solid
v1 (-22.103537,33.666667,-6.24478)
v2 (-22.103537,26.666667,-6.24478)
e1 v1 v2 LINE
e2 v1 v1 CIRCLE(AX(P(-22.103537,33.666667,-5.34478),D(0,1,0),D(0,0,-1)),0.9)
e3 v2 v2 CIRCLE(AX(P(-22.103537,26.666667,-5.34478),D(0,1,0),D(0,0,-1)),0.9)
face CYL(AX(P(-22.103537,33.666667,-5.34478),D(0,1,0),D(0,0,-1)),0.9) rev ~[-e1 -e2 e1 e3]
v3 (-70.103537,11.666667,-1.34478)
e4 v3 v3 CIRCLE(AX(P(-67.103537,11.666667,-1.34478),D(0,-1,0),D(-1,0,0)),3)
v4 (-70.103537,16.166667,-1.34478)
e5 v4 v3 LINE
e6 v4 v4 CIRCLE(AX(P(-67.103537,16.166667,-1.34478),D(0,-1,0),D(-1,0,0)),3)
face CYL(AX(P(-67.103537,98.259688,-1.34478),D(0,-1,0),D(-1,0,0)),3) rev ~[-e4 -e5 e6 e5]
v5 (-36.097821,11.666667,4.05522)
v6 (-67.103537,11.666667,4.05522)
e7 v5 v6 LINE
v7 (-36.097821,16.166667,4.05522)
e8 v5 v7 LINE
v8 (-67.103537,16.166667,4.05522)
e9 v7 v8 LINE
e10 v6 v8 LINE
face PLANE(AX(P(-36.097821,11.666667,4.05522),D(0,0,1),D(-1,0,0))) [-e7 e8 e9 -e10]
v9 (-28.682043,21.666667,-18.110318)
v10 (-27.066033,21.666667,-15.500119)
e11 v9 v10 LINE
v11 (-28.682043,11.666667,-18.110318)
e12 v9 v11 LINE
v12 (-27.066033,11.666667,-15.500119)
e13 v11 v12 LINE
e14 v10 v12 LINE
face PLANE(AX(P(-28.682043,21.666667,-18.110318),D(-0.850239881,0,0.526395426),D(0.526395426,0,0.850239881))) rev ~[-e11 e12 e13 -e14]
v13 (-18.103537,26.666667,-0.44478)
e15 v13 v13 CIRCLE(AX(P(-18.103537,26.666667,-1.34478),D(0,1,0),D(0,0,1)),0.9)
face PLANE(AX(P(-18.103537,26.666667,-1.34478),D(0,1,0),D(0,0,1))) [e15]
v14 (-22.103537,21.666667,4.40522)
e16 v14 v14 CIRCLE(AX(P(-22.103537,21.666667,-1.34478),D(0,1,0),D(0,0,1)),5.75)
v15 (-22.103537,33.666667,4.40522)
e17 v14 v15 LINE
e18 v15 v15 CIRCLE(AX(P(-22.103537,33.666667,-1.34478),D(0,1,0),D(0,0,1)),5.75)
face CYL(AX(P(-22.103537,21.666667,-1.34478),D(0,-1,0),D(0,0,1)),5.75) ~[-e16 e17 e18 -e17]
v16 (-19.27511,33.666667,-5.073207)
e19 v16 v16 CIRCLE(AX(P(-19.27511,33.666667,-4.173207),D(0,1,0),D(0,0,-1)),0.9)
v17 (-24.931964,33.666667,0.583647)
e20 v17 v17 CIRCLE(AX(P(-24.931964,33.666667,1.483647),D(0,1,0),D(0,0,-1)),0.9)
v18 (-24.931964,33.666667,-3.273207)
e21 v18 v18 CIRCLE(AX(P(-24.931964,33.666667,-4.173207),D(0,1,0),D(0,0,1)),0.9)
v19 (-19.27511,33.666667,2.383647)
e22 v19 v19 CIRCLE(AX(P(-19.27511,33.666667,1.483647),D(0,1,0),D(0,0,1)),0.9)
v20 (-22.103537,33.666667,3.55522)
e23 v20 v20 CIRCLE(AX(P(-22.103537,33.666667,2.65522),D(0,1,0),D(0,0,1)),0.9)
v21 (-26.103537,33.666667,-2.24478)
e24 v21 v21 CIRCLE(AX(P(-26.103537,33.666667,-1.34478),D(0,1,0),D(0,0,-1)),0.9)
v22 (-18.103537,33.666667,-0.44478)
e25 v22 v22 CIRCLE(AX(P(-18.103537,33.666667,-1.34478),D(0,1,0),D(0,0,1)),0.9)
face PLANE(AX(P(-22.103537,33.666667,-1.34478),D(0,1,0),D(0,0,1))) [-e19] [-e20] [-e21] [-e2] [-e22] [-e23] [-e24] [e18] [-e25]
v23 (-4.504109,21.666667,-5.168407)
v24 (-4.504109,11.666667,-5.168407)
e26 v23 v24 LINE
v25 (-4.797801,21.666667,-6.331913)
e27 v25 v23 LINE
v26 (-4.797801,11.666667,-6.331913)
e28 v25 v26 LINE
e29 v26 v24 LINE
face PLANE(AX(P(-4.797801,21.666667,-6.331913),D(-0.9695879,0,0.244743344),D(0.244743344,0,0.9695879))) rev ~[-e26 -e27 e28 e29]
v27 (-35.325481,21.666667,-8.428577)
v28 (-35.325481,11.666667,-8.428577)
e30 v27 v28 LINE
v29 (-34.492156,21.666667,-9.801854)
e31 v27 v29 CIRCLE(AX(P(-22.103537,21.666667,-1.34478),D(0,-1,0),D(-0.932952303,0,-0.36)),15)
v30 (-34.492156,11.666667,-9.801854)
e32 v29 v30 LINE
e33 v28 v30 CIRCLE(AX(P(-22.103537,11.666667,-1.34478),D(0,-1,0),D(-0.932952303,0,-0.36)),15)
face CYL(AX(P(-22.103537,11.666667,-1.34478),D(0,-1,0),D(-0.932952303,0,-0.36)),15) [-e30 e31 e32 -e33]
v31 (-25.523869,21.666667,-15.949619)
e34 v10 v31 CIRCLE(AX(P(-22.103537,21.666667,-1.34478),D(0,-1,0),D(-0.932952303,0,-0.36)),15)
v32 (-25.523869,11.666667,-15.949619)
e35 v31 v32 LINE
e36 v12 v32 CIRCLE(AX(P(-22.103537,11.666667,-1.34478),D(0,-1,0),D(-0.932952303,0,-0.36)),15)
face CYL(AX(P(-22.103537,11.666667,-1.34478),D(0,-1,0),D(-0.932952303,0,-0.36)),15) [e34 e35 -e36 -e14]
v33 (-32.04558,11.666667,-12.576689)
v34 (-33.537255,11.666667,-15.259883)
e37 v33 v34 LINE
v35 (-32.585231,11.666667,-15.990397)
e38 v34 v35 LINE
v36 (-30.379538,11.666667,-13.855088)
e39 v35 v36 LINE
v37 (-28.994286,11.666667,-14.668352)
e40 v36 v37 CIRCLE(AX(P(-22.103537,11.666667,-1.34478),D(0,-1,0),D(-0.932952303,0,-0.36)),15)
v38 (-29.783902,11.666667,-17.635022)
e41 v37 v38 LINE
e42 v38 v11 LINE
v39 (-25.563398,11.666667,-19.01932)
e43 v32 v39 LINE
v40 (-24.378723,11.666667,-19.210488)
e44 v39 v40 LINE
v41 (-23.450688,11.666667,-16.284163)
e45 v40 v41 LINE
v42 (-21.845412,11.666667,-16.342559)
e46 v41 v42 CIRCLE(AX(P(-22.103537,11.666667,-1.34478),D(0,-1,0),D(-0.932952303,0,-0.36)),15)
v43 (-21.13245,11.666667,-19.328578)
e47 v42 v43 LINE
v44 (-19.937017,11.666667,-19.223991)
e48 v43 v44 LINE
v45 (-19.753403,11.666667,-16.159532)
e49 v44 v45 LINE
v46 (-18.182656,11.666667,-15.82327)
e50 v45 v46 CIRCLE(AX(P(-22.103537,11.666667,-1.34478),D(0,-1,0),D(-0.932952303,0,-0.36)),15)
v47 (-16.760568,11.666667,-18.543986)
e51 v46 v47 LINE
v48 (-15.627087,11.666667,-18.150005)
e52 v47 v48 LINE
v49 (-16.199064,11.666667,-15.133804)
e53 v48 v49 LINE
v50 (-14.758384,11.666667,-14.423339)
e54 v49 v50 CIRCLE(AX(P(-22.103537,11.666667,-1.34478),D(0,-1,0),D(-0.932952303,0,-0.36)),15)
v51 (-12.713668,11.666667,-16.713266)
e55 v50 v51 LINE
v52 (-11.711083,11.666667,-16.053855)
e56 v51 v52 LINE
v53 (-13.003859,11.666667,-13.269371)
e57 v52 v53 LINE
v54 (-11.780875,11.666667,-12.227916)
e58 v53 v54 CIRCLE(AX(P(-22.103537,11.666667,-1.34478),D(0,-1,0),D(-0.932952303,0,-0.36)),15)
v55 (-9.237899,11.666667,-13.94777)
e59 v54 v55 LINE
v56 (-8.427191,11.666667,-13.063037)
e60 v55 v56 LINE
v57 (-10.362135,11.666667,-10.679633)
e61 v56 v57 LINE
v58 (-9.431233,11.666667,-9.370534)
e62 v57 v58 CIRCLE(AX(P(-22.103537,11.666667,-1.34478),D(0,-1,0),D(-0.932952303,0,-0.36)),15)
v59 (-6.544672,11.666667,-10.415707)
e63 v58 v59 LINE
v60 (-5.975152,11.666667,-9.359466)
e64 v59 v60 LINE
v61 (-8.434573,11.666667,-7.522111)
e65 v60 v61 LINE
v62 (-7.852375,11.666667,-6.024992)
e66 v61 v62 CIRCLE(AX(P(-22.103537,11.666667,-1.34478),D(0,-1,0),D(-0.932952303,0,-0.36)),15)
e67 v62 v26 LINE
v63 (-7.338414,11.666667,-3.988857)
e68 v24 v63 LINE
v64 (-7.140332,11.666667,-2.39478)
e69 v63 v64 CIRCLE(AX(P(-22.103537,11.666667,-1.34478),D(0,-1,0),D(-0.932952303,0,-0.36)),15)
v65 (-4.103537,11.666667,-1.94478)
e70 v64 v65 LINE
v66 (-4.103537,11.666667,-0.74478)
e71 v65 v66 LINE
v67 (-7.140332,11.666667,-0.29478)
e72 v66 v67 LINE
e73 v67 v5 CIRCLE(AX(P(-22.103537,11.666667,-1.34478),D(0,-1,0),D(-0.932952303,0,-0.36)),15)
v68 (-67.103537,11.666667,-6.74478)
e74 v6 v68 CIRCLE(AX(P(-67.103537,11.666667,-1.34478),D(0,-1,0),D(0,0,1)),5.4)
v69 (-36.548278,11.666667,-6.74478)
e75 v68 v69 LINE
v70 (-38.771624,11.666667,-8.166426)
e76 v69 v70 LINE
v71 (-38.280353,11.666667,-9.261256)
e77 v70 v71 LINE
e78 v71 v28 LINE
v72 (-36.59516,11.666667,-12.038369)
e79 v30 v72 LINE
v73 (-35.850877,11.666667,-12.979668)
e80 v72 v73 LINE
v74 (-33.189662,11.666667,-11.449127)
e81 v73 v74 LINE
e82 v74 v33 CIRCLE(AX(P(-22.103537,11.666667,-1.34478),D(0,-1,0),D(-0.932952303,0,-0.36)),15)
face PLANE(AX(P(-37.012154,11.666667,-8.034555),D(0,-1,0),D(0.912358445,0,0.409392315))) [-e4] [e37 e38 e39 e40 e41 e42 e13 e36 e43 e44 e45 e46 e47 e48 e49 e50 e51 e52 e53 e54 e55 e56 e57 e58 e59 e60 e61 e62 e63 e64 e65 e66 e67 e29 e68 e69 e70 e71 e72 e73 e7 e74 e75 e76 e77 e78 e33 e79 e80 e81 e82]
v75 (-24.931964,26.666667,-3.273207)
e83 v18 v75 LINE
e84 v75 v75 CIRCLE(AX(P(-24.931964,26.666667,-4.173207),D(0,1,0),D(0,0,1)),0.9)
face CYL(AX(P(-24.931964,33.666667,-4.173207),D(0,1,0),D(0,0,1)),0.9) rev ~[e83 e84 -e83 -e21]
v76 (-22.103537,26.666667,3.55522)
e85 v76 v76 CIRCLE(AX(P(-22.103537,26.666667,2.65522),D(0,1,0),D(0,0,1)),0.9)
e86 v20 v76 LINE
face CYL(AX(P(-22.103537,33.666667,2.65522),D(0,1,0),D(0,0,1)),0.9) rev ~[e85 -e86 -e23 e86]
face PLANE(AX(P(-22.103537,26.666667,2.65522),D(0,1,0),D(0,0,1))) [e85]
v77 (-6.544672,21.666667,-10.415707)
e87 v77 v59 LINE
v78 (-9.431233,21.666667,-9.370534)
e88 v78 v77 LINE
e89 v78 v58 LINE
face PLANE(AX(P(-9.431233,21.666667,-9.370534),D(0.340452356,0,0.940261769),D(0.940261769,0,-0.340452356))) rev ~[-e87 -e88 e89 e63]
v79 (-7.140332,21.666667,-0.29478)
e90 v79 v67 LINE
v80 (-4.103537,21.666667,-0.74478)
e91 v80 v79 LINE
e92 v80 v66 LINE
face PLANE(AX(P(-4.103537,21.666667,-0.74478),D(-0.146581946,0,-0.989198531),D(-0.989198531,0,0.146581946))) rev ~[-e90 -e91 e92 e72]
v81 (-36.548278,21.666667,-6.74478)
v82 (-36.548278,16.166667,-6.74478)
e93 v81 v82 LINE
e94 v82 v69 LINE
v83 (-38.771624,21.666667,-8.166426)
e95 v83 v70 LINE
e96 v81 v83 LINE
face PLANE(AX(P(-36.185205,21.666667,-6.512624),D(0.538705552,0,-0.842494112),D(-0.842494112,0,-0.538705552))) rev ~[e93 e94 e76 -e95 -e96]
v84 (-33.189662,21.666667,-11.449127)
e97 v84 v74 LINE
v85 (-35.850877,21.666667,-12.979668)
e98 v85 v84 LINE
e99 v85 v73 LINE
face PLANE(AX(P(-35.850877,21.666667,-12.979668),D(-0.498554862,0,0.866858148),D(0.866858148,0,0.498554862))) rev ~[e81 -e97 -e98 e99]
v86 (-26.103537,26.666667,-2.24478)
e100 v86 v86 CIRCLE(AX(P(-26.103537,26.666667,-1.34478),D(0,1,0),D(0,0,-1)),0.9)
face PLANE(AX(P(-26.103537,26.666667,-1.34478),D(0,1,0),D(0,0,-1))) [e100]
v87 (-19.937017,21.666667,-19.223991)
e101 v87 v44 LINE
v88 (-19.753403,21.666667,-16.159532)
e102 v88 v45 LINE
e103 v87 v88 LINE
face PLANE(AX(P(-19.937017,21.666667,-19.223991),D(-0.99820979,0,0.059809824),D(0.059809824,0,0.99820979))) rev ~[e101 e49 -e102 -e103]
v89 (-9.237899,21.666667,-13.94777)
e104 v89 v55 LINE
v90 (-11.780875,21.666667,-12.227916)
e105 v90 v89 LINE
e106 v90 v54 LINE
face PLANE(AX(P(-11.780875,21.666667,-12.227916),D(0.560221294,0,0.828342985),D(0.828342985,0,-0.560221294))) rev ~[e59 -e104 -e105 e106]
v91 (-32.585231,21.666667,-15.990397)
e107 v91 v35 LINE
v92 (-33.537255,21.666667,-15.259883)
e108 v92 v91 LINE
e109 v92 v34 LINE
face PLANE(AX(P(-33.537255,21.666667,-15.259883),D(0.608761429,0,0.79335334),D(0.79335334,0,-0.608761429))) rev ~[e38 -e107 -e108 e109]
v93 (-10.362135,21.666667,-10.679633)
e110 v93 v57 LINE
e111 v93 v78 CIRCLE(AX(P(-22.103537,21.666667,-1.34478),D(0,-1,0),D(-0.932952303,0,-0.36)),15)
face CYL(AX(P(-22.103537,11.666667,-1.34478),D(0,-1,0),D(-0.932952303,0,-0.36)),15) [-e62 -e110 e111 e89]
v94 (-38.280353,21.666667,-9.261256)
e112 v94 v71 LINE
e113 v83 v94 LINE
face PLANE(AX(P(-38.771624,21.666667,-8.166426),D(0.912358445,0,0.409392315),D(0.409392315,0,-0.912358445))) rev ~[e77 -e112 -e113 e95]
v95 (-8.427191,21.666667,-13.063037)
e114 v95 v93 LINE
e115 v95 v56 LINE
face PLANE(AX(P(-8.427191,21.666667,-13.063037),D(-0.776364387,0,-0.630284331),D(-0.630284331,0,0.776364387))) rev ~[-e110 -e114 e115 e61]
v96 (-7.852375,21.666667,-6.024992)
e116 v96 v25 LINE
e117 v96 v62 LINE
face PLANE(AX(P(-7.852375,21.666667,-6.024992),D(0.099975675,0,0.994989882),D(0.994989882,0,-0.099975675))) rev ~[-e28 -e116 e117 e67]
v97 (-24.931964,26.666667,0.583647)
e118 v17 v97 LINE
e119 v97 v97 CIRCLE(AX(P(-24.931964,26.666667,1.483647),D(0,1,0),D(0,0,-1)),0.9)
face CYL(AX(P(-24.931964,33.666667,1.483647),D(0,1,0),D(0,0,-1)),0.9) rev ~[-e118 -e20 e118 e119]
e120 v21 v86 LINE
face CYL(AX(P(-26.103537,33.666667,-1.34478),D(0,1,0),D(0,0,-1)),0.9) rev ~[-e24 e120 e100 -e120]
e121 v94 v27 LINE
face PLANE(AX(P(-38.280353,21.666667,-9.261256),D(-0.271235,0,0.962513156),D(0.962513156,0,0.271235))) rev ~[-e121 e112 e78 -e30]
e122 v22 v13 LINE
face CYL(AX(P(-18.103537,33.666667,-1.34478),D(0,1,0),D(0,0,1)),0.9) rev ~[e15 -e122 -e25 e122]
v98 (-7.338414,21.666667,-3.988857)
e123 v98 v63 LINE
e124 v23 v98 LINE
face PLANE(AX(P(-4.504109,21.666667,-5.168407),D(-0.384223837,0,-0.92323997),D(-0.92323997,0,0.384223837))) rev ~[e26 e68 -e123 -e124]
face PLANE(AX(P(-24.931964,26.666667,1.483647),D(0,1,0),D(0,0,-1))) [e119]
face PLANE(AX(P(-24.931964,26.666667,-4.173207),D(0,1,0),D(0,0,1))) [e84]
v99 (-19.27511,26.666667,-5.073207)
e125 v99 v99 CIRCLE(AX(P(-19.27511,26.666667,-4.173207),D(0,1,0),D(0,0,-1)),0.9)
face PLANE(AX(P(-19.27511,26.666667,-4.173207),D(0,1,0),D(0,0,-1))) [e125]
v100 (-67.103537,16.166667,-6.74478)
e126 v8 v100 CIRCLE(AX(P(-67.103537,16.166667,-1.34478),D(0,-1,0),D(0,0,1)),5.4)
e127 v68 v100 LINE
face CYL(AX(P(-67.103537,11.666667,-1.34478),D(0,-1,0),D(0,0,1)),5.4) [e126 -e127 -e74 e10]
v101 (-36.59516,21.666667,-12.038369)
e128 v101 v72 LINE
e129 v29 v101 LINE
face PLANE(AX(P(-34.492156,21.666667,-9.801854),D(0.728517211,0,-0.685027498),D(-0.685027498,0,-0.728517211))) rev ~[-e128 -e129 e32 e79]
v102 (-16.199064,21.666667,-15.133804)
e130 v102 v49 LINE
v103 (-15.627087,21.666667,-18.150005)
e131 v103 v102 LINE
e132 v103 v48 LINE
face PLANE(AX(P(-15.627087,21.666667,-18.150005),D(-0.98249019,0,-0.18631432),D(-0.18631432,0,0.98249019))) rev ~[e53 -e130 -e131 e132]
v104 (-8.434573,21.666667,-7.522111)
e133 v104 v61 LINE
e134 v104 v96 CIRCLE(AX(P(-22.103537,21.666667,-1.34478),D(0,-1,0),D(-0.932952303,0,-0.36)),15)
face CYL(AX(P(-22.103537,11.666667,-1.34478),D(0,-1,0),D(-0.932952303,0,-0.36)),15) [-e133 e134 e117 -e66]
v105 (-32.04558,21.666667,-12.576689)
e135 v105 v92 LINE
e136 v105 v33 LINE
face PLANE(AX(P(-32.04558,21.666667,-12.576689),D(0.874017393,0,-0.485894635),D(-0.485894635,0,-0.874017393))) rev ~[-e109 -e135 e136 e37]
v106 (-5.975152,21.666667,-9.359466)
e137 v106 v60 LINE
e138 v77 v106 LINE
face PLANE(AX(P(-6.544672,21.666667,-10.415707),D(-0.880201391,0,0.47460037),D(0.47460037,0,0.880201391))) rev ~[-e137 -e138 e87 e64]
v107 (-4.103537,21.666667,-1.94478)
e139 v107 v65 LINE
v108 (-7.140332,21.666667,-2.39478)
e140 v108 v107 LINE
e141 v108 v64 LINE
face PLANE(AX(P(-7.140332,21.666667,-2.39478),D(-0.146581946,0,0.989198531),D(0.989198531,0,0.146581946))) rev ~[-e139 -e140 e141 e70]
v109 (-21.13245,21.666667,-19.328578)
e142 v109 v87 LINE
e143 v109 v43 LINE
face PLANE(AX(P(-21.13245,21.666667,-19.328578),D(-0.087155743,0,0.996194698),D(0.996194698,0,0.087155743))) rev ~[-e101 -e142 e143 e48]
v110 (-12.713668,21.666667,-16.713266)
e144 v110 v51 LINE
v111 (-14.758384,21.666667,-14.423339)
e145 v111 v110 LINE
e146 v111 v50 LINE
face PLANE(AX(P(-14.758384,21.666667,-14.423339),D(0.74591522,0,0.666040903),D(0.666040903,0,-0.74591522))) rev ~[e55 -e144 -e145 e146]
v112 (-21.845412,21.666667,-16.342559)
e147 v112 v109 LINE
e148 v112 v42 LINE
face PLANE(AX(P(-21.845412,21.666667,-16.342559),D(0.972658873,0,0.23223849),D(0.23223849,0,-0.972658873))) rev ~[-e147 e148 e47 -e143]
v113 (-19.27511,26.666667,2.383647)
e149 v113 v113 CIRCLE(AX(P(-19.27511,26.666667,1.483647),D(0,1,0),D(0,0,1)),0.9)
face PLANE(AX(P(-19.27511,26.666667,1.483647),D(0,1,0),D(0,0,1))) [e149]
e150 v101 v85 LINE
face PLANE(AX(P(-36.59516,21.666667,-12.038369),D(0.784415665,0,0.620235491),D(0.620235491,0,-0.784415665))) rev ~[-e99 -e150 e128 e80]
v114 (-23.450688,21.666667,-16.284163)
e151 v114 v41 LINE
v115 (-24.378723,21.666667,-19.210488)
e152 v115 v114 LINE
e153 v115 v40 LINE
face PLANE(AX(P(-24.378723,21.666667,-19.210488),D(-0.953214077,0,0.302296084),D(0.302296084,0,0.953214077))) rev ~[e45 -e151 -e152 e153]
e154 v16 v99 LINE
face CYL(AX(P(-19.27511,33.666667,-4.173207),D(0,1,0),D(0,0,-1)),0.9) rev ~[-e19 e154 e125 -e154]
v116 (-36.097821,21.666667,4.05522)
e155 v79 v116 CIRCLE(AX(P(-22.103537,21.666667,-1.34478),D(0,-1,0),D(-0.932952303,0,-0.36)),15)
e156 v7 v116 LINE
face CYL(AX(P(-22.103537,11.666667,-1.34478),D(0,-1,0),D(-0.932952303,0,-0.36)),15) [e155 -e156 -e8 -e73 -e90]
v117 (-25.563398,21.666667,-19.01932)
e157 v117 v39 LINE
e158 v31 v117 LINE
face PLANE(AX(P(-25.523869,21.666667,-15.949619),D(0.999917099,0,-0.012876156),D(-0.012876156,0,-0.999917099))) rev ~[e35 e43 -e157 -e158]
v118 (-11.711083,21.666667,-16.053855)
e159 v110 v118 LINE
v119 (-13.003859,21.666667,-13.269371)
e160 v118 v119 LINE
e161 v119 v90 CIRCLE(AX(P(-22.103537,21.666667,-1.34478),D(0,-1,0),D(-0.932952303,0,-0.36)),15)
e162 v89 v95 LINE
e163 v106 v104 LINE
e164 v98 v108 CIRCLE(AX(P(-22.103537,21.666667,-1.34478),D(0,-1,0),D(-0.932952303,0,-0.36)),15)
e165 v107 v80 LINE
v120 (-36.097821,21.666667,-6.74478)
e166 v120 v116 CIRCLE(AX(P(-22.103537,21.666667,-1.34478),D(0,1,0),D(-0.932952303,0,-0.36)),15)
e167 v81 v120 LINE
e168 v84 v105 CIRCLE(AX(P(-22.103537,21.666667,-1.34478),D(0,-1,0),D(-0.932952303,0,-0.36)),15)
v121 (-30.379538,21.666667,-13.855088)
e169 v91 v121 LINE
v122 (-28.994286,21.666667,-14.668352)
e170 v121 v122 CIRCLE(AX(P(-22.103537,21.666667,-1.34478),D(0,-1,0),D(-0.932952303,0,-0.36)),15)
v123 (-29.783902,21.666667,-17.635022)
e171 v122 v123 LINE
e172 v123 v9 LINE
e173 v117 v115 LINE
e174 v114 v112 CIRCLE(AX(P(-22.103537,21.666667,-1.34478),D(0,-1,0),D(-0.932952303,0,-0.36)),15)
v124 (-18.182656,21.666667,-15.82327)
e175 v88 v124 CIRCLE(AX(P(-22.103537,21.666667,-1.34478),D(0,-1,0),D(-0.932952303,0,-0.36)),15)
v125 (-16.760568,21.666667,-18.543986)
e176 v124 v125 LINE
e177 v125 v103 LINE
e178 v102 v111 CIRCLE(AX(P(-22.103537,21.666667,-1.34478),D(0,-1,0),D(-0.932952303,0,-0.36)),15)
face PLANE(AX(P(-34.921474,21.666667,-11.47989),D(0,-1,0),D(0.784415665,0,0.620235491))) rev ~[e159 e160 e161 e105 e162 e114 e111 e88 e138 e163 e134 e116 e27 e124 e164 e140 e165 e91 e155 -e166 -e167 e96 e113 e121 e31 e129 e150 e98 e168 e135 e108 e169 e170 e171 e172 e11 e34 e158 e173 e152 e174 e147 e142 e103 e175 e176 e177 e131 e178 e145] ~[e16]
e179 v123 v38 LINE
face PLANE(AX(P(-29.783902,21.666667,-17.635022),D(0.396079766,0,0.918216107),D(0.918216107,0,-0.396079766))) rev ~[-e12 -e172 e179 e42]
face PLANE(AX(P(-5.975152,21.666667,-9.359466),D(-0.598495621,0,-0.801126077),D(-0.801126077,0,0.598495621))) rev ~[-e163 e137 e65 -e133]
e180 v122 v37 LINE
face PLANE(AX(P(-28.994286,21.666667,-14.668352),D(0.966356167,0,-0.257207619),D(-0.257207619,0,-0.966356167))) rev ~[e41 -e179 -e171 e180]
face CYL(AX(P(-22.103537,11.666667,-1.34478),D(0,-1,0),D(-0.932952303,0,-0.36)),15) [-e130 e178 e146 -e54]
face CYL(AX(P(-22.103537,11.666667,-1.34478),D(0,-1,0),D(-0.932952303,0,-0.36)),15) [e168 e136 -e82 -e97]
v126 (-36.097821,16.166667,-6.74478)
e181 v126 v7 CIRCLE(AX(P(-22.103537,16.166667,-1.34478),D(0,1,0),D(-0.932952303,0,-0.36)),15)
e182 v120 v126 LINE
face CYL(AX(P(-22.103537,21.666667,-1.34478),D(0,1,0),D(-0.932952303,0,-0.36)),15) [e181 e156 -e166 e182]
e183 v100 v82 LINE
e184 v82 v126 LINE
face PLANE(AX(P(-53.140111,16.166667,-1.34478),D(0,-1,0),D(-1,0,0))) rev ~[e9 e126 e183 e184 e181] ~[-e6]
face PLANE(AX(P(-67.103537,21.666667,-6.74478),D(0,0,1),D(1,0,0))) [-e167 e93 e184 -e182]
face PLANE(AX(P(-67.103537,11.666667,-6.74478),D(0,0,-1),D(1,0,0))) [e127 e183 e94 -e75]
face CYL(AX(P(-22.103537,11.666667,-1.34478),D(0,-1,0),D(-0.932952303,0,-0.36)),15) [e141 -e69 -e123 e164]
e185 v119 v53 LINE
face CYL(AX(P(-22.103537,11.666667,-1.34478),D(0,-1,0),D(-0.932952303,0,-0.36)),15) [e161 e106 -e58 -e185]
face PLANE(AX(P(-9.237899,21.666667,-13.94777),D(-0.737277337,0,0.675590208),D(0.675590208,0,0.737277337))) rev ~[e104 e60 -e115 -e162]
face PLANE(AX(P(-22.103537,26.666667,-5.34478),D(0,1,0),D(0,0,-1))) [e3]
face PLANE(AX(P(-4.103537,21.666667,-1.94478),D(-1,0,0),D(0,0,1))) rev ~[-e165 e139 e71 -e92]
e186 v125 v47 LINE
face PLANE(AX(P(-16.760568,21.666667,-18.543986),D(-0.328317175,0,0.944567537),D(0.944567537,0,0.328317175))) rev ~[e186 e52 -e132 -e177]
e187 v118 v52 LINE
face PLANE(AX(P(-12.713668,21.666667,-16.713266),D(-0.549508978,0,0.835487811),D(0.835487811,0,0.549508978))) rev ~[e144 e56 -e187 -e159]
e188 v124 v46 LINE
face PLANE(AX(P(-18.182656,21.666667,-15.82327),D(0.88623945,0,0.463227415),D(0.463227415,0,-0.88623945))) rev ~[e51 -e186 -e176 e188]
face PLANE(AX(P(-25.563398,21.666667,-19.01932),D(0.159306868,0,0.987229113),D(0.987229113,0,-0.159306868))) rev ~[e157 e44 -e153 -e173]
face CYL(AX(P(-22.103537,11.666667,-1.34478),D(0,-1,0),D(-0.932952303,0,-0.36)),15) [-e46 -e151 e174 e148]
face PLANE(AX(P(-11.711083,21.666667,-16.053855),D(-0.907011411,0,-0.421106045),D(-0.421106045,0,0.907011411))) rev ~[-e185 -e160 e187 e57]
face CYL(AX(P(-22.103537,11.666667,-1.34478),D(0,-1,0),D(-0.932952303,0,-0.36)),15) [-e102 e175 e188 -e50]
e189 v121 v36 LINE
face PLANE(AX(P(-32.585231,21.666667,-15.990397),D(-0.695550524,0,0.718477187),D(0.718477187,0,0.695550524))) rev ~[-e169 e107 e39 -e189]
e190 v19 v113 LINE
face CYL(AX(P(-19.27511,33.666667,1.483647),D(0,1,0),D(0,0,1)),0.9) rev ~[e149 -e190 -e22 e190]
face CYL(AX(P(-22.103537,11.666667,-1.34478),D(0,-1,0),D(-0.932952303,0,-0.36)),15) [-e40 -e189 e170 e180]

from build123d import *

# Parameters (mm, degrees)
BOSS_EXTRUDE1_DEPTH = 33.333333333
BOSS_EXTRUDE2_DEPTH = 33.333333333
CIRPATTERN2_COUNT   = 13
CIRPATTERN2_ANGLE   = 170
F_20_0MM_1_D        = 20
SCALE_1_SCALE       = 0.3
CUT_EXTRUDE_1_DEPTH = 5.5
SKETCH_2_R          = 5.75
EXTRUDE_1_DEPTH     = 12
SKETCH_3_R          = 0.9
CUT_EXTRUDE_2_DEPTH = 7


with BuildPart() as part:
    # Sketch1 → Boss-Extrude1 (new body)
    with BuildSketch(Plane(origin=(0, 0, 0), x_dir=(1, 0, 0), z_dir=(0, 1, 0))):
        with BuildLine():
            Line((-150, 18), (-46.647615159, 18))
            ThreePointArc((-46.647615159, 18), (50, 0), (-46.647615159, -18))
            Line((-46.647615159, -18), (-150, -18))
            ThreePointArc((-150, -18), (-168, 0), (-150, 18))
        make_face()
    extrude(amount=BOSS_EXTRUDE1_DEPTH)

    # Sketch2 → Boss-Extrude2 (add)
    with BuildSketch(Plane(origin=(0, 33.333333333, 0), x_dir=(1, 0, 0), z_dir=(0, 1, 0))):
        Polygon((49.877349569, 3.5), (60, 2), (60, -2), (49.877349569, -3.5), (50, 0), align=None)
    boss_extrude2 = extrude(amount=-BOSS_EXTRUDE2_DEPTH)

    # CirPattern2: Boss-Extrude2 ×13 about axis
    cirpattern2_axis = Axis((0, 0, 0), (0, 1, 0))
    for i in range(1, CIRPATTERN2_COUNT):
        add(boss_extrude2.rotate(cirpattern2_axis, i * CIRPATTERN2_ANGLE / (CIRPATTERN2_COUNT - 1)))

    # Ø20.0mm 맞춤핀 구멍1 (through all)
    with Locations(Plane(origin=(0, 33.333333333, 0), x_dir=(1, 0, 0), z_dir=(0, 1, 0))):
        with Locations((-150, 0)):
            Hole(F_20_0MM_1_D / 2)


with BuildPart() as part_1:
    # 축척1: scaled about (-31.576481157, 16.666666667, -1.921113945)
    add(part.part.scale(SCALE_1_SCALE).moved(Location((-22.10353681, 11.666666667, -1.344779761))))

    # 스케치1 → 컷-돌출1 (cut)
    with BuildSketch(Plane(origin=(0, 21.666666667, 0), x_dir=(1, 0, 0), z_dir=(0, 1, 0))):
        with BuildLine():
            Line((-36.097821358, -4.055220239), (-67.10353681, -4.055220239))
            ThreePointArc((-67.10353681, -4.055220239), (-72.50353681, 1.344779761), (-67.10353681, 6.744779761))
            Line((-67.10353681, 6.744779761), (-36.097821358, 6.744779761))
            ThreePointArc((-36.097821358, 6.744779761), (-37.10353681, 1.344779761), (-36.097821358, -4.055220239))
        make_face()
    extrude(amount=-CUT_EXTRUDE_1_DEPTH, mode=Mode.SUBTRACT)

    # 스케치2 → 보스-돌출1 (add)
    with BuildSketch(Plane(origin=(0, 21.666666667, 0), x_dir=(1, 0, 0), z_dir=(0, 1, 0))):
        with Locations(Location((-22.10353681, 1.344779761, 0), (0, 0, 270))):
            Circle(SKETCH_2_R)
    extrude(amount=EXTRUDE_1_DEPTH)

    # 스케치3 → 컷-돌출2 (cut)
    with BuildSketch(Plane(origin=(0, 33.666666667, 0), x_dir=(1, 0, 0), z_dir=(0, 1, 0))):
        with Locations(Location((-22.10353681, -2.655220239, 0), (0, 0, 270))):
            Circle(SKETCH_3_R)
        with Locations(Location((-19.275109685, -1.483647363, 0), (0, 0, 270))):
            Circle(SKETCH_3_R)
        with Locations(Location((-18.10353681, 1.344779761, 0), (0, 0, 270))):
            Circle(SKETCH_3_R)
        with Locations(Location((-24.931963935, -1.483647363, 0), (0, 0, 90))):
            Circle(SKETCH_3_R)
        with Locations(Location((-26.10353681, 1.344779761, 0), (0, 0, 90))):
            Circle(SKETCH_3_R)
        with Locations(Location((-24.931963935, 4.173206886, 0), (0, 0, 270))):
            Circle(SKETCH_3_R)
        with Locations(Location((-22.10353681, 5.344779761, 0), (0, 0, 90))):
            Circle(SKETCH_3_R)
        with Locations(Location((-19.275109685, 4.173206886, 0), (0, 0, 90))):
            Circle(SKETCH_3_R)
    extrude(amount=-CUT_EXTRUDE_2_DEPTH, mode=Mode.SUBTRACT)


solid = part_1.part
